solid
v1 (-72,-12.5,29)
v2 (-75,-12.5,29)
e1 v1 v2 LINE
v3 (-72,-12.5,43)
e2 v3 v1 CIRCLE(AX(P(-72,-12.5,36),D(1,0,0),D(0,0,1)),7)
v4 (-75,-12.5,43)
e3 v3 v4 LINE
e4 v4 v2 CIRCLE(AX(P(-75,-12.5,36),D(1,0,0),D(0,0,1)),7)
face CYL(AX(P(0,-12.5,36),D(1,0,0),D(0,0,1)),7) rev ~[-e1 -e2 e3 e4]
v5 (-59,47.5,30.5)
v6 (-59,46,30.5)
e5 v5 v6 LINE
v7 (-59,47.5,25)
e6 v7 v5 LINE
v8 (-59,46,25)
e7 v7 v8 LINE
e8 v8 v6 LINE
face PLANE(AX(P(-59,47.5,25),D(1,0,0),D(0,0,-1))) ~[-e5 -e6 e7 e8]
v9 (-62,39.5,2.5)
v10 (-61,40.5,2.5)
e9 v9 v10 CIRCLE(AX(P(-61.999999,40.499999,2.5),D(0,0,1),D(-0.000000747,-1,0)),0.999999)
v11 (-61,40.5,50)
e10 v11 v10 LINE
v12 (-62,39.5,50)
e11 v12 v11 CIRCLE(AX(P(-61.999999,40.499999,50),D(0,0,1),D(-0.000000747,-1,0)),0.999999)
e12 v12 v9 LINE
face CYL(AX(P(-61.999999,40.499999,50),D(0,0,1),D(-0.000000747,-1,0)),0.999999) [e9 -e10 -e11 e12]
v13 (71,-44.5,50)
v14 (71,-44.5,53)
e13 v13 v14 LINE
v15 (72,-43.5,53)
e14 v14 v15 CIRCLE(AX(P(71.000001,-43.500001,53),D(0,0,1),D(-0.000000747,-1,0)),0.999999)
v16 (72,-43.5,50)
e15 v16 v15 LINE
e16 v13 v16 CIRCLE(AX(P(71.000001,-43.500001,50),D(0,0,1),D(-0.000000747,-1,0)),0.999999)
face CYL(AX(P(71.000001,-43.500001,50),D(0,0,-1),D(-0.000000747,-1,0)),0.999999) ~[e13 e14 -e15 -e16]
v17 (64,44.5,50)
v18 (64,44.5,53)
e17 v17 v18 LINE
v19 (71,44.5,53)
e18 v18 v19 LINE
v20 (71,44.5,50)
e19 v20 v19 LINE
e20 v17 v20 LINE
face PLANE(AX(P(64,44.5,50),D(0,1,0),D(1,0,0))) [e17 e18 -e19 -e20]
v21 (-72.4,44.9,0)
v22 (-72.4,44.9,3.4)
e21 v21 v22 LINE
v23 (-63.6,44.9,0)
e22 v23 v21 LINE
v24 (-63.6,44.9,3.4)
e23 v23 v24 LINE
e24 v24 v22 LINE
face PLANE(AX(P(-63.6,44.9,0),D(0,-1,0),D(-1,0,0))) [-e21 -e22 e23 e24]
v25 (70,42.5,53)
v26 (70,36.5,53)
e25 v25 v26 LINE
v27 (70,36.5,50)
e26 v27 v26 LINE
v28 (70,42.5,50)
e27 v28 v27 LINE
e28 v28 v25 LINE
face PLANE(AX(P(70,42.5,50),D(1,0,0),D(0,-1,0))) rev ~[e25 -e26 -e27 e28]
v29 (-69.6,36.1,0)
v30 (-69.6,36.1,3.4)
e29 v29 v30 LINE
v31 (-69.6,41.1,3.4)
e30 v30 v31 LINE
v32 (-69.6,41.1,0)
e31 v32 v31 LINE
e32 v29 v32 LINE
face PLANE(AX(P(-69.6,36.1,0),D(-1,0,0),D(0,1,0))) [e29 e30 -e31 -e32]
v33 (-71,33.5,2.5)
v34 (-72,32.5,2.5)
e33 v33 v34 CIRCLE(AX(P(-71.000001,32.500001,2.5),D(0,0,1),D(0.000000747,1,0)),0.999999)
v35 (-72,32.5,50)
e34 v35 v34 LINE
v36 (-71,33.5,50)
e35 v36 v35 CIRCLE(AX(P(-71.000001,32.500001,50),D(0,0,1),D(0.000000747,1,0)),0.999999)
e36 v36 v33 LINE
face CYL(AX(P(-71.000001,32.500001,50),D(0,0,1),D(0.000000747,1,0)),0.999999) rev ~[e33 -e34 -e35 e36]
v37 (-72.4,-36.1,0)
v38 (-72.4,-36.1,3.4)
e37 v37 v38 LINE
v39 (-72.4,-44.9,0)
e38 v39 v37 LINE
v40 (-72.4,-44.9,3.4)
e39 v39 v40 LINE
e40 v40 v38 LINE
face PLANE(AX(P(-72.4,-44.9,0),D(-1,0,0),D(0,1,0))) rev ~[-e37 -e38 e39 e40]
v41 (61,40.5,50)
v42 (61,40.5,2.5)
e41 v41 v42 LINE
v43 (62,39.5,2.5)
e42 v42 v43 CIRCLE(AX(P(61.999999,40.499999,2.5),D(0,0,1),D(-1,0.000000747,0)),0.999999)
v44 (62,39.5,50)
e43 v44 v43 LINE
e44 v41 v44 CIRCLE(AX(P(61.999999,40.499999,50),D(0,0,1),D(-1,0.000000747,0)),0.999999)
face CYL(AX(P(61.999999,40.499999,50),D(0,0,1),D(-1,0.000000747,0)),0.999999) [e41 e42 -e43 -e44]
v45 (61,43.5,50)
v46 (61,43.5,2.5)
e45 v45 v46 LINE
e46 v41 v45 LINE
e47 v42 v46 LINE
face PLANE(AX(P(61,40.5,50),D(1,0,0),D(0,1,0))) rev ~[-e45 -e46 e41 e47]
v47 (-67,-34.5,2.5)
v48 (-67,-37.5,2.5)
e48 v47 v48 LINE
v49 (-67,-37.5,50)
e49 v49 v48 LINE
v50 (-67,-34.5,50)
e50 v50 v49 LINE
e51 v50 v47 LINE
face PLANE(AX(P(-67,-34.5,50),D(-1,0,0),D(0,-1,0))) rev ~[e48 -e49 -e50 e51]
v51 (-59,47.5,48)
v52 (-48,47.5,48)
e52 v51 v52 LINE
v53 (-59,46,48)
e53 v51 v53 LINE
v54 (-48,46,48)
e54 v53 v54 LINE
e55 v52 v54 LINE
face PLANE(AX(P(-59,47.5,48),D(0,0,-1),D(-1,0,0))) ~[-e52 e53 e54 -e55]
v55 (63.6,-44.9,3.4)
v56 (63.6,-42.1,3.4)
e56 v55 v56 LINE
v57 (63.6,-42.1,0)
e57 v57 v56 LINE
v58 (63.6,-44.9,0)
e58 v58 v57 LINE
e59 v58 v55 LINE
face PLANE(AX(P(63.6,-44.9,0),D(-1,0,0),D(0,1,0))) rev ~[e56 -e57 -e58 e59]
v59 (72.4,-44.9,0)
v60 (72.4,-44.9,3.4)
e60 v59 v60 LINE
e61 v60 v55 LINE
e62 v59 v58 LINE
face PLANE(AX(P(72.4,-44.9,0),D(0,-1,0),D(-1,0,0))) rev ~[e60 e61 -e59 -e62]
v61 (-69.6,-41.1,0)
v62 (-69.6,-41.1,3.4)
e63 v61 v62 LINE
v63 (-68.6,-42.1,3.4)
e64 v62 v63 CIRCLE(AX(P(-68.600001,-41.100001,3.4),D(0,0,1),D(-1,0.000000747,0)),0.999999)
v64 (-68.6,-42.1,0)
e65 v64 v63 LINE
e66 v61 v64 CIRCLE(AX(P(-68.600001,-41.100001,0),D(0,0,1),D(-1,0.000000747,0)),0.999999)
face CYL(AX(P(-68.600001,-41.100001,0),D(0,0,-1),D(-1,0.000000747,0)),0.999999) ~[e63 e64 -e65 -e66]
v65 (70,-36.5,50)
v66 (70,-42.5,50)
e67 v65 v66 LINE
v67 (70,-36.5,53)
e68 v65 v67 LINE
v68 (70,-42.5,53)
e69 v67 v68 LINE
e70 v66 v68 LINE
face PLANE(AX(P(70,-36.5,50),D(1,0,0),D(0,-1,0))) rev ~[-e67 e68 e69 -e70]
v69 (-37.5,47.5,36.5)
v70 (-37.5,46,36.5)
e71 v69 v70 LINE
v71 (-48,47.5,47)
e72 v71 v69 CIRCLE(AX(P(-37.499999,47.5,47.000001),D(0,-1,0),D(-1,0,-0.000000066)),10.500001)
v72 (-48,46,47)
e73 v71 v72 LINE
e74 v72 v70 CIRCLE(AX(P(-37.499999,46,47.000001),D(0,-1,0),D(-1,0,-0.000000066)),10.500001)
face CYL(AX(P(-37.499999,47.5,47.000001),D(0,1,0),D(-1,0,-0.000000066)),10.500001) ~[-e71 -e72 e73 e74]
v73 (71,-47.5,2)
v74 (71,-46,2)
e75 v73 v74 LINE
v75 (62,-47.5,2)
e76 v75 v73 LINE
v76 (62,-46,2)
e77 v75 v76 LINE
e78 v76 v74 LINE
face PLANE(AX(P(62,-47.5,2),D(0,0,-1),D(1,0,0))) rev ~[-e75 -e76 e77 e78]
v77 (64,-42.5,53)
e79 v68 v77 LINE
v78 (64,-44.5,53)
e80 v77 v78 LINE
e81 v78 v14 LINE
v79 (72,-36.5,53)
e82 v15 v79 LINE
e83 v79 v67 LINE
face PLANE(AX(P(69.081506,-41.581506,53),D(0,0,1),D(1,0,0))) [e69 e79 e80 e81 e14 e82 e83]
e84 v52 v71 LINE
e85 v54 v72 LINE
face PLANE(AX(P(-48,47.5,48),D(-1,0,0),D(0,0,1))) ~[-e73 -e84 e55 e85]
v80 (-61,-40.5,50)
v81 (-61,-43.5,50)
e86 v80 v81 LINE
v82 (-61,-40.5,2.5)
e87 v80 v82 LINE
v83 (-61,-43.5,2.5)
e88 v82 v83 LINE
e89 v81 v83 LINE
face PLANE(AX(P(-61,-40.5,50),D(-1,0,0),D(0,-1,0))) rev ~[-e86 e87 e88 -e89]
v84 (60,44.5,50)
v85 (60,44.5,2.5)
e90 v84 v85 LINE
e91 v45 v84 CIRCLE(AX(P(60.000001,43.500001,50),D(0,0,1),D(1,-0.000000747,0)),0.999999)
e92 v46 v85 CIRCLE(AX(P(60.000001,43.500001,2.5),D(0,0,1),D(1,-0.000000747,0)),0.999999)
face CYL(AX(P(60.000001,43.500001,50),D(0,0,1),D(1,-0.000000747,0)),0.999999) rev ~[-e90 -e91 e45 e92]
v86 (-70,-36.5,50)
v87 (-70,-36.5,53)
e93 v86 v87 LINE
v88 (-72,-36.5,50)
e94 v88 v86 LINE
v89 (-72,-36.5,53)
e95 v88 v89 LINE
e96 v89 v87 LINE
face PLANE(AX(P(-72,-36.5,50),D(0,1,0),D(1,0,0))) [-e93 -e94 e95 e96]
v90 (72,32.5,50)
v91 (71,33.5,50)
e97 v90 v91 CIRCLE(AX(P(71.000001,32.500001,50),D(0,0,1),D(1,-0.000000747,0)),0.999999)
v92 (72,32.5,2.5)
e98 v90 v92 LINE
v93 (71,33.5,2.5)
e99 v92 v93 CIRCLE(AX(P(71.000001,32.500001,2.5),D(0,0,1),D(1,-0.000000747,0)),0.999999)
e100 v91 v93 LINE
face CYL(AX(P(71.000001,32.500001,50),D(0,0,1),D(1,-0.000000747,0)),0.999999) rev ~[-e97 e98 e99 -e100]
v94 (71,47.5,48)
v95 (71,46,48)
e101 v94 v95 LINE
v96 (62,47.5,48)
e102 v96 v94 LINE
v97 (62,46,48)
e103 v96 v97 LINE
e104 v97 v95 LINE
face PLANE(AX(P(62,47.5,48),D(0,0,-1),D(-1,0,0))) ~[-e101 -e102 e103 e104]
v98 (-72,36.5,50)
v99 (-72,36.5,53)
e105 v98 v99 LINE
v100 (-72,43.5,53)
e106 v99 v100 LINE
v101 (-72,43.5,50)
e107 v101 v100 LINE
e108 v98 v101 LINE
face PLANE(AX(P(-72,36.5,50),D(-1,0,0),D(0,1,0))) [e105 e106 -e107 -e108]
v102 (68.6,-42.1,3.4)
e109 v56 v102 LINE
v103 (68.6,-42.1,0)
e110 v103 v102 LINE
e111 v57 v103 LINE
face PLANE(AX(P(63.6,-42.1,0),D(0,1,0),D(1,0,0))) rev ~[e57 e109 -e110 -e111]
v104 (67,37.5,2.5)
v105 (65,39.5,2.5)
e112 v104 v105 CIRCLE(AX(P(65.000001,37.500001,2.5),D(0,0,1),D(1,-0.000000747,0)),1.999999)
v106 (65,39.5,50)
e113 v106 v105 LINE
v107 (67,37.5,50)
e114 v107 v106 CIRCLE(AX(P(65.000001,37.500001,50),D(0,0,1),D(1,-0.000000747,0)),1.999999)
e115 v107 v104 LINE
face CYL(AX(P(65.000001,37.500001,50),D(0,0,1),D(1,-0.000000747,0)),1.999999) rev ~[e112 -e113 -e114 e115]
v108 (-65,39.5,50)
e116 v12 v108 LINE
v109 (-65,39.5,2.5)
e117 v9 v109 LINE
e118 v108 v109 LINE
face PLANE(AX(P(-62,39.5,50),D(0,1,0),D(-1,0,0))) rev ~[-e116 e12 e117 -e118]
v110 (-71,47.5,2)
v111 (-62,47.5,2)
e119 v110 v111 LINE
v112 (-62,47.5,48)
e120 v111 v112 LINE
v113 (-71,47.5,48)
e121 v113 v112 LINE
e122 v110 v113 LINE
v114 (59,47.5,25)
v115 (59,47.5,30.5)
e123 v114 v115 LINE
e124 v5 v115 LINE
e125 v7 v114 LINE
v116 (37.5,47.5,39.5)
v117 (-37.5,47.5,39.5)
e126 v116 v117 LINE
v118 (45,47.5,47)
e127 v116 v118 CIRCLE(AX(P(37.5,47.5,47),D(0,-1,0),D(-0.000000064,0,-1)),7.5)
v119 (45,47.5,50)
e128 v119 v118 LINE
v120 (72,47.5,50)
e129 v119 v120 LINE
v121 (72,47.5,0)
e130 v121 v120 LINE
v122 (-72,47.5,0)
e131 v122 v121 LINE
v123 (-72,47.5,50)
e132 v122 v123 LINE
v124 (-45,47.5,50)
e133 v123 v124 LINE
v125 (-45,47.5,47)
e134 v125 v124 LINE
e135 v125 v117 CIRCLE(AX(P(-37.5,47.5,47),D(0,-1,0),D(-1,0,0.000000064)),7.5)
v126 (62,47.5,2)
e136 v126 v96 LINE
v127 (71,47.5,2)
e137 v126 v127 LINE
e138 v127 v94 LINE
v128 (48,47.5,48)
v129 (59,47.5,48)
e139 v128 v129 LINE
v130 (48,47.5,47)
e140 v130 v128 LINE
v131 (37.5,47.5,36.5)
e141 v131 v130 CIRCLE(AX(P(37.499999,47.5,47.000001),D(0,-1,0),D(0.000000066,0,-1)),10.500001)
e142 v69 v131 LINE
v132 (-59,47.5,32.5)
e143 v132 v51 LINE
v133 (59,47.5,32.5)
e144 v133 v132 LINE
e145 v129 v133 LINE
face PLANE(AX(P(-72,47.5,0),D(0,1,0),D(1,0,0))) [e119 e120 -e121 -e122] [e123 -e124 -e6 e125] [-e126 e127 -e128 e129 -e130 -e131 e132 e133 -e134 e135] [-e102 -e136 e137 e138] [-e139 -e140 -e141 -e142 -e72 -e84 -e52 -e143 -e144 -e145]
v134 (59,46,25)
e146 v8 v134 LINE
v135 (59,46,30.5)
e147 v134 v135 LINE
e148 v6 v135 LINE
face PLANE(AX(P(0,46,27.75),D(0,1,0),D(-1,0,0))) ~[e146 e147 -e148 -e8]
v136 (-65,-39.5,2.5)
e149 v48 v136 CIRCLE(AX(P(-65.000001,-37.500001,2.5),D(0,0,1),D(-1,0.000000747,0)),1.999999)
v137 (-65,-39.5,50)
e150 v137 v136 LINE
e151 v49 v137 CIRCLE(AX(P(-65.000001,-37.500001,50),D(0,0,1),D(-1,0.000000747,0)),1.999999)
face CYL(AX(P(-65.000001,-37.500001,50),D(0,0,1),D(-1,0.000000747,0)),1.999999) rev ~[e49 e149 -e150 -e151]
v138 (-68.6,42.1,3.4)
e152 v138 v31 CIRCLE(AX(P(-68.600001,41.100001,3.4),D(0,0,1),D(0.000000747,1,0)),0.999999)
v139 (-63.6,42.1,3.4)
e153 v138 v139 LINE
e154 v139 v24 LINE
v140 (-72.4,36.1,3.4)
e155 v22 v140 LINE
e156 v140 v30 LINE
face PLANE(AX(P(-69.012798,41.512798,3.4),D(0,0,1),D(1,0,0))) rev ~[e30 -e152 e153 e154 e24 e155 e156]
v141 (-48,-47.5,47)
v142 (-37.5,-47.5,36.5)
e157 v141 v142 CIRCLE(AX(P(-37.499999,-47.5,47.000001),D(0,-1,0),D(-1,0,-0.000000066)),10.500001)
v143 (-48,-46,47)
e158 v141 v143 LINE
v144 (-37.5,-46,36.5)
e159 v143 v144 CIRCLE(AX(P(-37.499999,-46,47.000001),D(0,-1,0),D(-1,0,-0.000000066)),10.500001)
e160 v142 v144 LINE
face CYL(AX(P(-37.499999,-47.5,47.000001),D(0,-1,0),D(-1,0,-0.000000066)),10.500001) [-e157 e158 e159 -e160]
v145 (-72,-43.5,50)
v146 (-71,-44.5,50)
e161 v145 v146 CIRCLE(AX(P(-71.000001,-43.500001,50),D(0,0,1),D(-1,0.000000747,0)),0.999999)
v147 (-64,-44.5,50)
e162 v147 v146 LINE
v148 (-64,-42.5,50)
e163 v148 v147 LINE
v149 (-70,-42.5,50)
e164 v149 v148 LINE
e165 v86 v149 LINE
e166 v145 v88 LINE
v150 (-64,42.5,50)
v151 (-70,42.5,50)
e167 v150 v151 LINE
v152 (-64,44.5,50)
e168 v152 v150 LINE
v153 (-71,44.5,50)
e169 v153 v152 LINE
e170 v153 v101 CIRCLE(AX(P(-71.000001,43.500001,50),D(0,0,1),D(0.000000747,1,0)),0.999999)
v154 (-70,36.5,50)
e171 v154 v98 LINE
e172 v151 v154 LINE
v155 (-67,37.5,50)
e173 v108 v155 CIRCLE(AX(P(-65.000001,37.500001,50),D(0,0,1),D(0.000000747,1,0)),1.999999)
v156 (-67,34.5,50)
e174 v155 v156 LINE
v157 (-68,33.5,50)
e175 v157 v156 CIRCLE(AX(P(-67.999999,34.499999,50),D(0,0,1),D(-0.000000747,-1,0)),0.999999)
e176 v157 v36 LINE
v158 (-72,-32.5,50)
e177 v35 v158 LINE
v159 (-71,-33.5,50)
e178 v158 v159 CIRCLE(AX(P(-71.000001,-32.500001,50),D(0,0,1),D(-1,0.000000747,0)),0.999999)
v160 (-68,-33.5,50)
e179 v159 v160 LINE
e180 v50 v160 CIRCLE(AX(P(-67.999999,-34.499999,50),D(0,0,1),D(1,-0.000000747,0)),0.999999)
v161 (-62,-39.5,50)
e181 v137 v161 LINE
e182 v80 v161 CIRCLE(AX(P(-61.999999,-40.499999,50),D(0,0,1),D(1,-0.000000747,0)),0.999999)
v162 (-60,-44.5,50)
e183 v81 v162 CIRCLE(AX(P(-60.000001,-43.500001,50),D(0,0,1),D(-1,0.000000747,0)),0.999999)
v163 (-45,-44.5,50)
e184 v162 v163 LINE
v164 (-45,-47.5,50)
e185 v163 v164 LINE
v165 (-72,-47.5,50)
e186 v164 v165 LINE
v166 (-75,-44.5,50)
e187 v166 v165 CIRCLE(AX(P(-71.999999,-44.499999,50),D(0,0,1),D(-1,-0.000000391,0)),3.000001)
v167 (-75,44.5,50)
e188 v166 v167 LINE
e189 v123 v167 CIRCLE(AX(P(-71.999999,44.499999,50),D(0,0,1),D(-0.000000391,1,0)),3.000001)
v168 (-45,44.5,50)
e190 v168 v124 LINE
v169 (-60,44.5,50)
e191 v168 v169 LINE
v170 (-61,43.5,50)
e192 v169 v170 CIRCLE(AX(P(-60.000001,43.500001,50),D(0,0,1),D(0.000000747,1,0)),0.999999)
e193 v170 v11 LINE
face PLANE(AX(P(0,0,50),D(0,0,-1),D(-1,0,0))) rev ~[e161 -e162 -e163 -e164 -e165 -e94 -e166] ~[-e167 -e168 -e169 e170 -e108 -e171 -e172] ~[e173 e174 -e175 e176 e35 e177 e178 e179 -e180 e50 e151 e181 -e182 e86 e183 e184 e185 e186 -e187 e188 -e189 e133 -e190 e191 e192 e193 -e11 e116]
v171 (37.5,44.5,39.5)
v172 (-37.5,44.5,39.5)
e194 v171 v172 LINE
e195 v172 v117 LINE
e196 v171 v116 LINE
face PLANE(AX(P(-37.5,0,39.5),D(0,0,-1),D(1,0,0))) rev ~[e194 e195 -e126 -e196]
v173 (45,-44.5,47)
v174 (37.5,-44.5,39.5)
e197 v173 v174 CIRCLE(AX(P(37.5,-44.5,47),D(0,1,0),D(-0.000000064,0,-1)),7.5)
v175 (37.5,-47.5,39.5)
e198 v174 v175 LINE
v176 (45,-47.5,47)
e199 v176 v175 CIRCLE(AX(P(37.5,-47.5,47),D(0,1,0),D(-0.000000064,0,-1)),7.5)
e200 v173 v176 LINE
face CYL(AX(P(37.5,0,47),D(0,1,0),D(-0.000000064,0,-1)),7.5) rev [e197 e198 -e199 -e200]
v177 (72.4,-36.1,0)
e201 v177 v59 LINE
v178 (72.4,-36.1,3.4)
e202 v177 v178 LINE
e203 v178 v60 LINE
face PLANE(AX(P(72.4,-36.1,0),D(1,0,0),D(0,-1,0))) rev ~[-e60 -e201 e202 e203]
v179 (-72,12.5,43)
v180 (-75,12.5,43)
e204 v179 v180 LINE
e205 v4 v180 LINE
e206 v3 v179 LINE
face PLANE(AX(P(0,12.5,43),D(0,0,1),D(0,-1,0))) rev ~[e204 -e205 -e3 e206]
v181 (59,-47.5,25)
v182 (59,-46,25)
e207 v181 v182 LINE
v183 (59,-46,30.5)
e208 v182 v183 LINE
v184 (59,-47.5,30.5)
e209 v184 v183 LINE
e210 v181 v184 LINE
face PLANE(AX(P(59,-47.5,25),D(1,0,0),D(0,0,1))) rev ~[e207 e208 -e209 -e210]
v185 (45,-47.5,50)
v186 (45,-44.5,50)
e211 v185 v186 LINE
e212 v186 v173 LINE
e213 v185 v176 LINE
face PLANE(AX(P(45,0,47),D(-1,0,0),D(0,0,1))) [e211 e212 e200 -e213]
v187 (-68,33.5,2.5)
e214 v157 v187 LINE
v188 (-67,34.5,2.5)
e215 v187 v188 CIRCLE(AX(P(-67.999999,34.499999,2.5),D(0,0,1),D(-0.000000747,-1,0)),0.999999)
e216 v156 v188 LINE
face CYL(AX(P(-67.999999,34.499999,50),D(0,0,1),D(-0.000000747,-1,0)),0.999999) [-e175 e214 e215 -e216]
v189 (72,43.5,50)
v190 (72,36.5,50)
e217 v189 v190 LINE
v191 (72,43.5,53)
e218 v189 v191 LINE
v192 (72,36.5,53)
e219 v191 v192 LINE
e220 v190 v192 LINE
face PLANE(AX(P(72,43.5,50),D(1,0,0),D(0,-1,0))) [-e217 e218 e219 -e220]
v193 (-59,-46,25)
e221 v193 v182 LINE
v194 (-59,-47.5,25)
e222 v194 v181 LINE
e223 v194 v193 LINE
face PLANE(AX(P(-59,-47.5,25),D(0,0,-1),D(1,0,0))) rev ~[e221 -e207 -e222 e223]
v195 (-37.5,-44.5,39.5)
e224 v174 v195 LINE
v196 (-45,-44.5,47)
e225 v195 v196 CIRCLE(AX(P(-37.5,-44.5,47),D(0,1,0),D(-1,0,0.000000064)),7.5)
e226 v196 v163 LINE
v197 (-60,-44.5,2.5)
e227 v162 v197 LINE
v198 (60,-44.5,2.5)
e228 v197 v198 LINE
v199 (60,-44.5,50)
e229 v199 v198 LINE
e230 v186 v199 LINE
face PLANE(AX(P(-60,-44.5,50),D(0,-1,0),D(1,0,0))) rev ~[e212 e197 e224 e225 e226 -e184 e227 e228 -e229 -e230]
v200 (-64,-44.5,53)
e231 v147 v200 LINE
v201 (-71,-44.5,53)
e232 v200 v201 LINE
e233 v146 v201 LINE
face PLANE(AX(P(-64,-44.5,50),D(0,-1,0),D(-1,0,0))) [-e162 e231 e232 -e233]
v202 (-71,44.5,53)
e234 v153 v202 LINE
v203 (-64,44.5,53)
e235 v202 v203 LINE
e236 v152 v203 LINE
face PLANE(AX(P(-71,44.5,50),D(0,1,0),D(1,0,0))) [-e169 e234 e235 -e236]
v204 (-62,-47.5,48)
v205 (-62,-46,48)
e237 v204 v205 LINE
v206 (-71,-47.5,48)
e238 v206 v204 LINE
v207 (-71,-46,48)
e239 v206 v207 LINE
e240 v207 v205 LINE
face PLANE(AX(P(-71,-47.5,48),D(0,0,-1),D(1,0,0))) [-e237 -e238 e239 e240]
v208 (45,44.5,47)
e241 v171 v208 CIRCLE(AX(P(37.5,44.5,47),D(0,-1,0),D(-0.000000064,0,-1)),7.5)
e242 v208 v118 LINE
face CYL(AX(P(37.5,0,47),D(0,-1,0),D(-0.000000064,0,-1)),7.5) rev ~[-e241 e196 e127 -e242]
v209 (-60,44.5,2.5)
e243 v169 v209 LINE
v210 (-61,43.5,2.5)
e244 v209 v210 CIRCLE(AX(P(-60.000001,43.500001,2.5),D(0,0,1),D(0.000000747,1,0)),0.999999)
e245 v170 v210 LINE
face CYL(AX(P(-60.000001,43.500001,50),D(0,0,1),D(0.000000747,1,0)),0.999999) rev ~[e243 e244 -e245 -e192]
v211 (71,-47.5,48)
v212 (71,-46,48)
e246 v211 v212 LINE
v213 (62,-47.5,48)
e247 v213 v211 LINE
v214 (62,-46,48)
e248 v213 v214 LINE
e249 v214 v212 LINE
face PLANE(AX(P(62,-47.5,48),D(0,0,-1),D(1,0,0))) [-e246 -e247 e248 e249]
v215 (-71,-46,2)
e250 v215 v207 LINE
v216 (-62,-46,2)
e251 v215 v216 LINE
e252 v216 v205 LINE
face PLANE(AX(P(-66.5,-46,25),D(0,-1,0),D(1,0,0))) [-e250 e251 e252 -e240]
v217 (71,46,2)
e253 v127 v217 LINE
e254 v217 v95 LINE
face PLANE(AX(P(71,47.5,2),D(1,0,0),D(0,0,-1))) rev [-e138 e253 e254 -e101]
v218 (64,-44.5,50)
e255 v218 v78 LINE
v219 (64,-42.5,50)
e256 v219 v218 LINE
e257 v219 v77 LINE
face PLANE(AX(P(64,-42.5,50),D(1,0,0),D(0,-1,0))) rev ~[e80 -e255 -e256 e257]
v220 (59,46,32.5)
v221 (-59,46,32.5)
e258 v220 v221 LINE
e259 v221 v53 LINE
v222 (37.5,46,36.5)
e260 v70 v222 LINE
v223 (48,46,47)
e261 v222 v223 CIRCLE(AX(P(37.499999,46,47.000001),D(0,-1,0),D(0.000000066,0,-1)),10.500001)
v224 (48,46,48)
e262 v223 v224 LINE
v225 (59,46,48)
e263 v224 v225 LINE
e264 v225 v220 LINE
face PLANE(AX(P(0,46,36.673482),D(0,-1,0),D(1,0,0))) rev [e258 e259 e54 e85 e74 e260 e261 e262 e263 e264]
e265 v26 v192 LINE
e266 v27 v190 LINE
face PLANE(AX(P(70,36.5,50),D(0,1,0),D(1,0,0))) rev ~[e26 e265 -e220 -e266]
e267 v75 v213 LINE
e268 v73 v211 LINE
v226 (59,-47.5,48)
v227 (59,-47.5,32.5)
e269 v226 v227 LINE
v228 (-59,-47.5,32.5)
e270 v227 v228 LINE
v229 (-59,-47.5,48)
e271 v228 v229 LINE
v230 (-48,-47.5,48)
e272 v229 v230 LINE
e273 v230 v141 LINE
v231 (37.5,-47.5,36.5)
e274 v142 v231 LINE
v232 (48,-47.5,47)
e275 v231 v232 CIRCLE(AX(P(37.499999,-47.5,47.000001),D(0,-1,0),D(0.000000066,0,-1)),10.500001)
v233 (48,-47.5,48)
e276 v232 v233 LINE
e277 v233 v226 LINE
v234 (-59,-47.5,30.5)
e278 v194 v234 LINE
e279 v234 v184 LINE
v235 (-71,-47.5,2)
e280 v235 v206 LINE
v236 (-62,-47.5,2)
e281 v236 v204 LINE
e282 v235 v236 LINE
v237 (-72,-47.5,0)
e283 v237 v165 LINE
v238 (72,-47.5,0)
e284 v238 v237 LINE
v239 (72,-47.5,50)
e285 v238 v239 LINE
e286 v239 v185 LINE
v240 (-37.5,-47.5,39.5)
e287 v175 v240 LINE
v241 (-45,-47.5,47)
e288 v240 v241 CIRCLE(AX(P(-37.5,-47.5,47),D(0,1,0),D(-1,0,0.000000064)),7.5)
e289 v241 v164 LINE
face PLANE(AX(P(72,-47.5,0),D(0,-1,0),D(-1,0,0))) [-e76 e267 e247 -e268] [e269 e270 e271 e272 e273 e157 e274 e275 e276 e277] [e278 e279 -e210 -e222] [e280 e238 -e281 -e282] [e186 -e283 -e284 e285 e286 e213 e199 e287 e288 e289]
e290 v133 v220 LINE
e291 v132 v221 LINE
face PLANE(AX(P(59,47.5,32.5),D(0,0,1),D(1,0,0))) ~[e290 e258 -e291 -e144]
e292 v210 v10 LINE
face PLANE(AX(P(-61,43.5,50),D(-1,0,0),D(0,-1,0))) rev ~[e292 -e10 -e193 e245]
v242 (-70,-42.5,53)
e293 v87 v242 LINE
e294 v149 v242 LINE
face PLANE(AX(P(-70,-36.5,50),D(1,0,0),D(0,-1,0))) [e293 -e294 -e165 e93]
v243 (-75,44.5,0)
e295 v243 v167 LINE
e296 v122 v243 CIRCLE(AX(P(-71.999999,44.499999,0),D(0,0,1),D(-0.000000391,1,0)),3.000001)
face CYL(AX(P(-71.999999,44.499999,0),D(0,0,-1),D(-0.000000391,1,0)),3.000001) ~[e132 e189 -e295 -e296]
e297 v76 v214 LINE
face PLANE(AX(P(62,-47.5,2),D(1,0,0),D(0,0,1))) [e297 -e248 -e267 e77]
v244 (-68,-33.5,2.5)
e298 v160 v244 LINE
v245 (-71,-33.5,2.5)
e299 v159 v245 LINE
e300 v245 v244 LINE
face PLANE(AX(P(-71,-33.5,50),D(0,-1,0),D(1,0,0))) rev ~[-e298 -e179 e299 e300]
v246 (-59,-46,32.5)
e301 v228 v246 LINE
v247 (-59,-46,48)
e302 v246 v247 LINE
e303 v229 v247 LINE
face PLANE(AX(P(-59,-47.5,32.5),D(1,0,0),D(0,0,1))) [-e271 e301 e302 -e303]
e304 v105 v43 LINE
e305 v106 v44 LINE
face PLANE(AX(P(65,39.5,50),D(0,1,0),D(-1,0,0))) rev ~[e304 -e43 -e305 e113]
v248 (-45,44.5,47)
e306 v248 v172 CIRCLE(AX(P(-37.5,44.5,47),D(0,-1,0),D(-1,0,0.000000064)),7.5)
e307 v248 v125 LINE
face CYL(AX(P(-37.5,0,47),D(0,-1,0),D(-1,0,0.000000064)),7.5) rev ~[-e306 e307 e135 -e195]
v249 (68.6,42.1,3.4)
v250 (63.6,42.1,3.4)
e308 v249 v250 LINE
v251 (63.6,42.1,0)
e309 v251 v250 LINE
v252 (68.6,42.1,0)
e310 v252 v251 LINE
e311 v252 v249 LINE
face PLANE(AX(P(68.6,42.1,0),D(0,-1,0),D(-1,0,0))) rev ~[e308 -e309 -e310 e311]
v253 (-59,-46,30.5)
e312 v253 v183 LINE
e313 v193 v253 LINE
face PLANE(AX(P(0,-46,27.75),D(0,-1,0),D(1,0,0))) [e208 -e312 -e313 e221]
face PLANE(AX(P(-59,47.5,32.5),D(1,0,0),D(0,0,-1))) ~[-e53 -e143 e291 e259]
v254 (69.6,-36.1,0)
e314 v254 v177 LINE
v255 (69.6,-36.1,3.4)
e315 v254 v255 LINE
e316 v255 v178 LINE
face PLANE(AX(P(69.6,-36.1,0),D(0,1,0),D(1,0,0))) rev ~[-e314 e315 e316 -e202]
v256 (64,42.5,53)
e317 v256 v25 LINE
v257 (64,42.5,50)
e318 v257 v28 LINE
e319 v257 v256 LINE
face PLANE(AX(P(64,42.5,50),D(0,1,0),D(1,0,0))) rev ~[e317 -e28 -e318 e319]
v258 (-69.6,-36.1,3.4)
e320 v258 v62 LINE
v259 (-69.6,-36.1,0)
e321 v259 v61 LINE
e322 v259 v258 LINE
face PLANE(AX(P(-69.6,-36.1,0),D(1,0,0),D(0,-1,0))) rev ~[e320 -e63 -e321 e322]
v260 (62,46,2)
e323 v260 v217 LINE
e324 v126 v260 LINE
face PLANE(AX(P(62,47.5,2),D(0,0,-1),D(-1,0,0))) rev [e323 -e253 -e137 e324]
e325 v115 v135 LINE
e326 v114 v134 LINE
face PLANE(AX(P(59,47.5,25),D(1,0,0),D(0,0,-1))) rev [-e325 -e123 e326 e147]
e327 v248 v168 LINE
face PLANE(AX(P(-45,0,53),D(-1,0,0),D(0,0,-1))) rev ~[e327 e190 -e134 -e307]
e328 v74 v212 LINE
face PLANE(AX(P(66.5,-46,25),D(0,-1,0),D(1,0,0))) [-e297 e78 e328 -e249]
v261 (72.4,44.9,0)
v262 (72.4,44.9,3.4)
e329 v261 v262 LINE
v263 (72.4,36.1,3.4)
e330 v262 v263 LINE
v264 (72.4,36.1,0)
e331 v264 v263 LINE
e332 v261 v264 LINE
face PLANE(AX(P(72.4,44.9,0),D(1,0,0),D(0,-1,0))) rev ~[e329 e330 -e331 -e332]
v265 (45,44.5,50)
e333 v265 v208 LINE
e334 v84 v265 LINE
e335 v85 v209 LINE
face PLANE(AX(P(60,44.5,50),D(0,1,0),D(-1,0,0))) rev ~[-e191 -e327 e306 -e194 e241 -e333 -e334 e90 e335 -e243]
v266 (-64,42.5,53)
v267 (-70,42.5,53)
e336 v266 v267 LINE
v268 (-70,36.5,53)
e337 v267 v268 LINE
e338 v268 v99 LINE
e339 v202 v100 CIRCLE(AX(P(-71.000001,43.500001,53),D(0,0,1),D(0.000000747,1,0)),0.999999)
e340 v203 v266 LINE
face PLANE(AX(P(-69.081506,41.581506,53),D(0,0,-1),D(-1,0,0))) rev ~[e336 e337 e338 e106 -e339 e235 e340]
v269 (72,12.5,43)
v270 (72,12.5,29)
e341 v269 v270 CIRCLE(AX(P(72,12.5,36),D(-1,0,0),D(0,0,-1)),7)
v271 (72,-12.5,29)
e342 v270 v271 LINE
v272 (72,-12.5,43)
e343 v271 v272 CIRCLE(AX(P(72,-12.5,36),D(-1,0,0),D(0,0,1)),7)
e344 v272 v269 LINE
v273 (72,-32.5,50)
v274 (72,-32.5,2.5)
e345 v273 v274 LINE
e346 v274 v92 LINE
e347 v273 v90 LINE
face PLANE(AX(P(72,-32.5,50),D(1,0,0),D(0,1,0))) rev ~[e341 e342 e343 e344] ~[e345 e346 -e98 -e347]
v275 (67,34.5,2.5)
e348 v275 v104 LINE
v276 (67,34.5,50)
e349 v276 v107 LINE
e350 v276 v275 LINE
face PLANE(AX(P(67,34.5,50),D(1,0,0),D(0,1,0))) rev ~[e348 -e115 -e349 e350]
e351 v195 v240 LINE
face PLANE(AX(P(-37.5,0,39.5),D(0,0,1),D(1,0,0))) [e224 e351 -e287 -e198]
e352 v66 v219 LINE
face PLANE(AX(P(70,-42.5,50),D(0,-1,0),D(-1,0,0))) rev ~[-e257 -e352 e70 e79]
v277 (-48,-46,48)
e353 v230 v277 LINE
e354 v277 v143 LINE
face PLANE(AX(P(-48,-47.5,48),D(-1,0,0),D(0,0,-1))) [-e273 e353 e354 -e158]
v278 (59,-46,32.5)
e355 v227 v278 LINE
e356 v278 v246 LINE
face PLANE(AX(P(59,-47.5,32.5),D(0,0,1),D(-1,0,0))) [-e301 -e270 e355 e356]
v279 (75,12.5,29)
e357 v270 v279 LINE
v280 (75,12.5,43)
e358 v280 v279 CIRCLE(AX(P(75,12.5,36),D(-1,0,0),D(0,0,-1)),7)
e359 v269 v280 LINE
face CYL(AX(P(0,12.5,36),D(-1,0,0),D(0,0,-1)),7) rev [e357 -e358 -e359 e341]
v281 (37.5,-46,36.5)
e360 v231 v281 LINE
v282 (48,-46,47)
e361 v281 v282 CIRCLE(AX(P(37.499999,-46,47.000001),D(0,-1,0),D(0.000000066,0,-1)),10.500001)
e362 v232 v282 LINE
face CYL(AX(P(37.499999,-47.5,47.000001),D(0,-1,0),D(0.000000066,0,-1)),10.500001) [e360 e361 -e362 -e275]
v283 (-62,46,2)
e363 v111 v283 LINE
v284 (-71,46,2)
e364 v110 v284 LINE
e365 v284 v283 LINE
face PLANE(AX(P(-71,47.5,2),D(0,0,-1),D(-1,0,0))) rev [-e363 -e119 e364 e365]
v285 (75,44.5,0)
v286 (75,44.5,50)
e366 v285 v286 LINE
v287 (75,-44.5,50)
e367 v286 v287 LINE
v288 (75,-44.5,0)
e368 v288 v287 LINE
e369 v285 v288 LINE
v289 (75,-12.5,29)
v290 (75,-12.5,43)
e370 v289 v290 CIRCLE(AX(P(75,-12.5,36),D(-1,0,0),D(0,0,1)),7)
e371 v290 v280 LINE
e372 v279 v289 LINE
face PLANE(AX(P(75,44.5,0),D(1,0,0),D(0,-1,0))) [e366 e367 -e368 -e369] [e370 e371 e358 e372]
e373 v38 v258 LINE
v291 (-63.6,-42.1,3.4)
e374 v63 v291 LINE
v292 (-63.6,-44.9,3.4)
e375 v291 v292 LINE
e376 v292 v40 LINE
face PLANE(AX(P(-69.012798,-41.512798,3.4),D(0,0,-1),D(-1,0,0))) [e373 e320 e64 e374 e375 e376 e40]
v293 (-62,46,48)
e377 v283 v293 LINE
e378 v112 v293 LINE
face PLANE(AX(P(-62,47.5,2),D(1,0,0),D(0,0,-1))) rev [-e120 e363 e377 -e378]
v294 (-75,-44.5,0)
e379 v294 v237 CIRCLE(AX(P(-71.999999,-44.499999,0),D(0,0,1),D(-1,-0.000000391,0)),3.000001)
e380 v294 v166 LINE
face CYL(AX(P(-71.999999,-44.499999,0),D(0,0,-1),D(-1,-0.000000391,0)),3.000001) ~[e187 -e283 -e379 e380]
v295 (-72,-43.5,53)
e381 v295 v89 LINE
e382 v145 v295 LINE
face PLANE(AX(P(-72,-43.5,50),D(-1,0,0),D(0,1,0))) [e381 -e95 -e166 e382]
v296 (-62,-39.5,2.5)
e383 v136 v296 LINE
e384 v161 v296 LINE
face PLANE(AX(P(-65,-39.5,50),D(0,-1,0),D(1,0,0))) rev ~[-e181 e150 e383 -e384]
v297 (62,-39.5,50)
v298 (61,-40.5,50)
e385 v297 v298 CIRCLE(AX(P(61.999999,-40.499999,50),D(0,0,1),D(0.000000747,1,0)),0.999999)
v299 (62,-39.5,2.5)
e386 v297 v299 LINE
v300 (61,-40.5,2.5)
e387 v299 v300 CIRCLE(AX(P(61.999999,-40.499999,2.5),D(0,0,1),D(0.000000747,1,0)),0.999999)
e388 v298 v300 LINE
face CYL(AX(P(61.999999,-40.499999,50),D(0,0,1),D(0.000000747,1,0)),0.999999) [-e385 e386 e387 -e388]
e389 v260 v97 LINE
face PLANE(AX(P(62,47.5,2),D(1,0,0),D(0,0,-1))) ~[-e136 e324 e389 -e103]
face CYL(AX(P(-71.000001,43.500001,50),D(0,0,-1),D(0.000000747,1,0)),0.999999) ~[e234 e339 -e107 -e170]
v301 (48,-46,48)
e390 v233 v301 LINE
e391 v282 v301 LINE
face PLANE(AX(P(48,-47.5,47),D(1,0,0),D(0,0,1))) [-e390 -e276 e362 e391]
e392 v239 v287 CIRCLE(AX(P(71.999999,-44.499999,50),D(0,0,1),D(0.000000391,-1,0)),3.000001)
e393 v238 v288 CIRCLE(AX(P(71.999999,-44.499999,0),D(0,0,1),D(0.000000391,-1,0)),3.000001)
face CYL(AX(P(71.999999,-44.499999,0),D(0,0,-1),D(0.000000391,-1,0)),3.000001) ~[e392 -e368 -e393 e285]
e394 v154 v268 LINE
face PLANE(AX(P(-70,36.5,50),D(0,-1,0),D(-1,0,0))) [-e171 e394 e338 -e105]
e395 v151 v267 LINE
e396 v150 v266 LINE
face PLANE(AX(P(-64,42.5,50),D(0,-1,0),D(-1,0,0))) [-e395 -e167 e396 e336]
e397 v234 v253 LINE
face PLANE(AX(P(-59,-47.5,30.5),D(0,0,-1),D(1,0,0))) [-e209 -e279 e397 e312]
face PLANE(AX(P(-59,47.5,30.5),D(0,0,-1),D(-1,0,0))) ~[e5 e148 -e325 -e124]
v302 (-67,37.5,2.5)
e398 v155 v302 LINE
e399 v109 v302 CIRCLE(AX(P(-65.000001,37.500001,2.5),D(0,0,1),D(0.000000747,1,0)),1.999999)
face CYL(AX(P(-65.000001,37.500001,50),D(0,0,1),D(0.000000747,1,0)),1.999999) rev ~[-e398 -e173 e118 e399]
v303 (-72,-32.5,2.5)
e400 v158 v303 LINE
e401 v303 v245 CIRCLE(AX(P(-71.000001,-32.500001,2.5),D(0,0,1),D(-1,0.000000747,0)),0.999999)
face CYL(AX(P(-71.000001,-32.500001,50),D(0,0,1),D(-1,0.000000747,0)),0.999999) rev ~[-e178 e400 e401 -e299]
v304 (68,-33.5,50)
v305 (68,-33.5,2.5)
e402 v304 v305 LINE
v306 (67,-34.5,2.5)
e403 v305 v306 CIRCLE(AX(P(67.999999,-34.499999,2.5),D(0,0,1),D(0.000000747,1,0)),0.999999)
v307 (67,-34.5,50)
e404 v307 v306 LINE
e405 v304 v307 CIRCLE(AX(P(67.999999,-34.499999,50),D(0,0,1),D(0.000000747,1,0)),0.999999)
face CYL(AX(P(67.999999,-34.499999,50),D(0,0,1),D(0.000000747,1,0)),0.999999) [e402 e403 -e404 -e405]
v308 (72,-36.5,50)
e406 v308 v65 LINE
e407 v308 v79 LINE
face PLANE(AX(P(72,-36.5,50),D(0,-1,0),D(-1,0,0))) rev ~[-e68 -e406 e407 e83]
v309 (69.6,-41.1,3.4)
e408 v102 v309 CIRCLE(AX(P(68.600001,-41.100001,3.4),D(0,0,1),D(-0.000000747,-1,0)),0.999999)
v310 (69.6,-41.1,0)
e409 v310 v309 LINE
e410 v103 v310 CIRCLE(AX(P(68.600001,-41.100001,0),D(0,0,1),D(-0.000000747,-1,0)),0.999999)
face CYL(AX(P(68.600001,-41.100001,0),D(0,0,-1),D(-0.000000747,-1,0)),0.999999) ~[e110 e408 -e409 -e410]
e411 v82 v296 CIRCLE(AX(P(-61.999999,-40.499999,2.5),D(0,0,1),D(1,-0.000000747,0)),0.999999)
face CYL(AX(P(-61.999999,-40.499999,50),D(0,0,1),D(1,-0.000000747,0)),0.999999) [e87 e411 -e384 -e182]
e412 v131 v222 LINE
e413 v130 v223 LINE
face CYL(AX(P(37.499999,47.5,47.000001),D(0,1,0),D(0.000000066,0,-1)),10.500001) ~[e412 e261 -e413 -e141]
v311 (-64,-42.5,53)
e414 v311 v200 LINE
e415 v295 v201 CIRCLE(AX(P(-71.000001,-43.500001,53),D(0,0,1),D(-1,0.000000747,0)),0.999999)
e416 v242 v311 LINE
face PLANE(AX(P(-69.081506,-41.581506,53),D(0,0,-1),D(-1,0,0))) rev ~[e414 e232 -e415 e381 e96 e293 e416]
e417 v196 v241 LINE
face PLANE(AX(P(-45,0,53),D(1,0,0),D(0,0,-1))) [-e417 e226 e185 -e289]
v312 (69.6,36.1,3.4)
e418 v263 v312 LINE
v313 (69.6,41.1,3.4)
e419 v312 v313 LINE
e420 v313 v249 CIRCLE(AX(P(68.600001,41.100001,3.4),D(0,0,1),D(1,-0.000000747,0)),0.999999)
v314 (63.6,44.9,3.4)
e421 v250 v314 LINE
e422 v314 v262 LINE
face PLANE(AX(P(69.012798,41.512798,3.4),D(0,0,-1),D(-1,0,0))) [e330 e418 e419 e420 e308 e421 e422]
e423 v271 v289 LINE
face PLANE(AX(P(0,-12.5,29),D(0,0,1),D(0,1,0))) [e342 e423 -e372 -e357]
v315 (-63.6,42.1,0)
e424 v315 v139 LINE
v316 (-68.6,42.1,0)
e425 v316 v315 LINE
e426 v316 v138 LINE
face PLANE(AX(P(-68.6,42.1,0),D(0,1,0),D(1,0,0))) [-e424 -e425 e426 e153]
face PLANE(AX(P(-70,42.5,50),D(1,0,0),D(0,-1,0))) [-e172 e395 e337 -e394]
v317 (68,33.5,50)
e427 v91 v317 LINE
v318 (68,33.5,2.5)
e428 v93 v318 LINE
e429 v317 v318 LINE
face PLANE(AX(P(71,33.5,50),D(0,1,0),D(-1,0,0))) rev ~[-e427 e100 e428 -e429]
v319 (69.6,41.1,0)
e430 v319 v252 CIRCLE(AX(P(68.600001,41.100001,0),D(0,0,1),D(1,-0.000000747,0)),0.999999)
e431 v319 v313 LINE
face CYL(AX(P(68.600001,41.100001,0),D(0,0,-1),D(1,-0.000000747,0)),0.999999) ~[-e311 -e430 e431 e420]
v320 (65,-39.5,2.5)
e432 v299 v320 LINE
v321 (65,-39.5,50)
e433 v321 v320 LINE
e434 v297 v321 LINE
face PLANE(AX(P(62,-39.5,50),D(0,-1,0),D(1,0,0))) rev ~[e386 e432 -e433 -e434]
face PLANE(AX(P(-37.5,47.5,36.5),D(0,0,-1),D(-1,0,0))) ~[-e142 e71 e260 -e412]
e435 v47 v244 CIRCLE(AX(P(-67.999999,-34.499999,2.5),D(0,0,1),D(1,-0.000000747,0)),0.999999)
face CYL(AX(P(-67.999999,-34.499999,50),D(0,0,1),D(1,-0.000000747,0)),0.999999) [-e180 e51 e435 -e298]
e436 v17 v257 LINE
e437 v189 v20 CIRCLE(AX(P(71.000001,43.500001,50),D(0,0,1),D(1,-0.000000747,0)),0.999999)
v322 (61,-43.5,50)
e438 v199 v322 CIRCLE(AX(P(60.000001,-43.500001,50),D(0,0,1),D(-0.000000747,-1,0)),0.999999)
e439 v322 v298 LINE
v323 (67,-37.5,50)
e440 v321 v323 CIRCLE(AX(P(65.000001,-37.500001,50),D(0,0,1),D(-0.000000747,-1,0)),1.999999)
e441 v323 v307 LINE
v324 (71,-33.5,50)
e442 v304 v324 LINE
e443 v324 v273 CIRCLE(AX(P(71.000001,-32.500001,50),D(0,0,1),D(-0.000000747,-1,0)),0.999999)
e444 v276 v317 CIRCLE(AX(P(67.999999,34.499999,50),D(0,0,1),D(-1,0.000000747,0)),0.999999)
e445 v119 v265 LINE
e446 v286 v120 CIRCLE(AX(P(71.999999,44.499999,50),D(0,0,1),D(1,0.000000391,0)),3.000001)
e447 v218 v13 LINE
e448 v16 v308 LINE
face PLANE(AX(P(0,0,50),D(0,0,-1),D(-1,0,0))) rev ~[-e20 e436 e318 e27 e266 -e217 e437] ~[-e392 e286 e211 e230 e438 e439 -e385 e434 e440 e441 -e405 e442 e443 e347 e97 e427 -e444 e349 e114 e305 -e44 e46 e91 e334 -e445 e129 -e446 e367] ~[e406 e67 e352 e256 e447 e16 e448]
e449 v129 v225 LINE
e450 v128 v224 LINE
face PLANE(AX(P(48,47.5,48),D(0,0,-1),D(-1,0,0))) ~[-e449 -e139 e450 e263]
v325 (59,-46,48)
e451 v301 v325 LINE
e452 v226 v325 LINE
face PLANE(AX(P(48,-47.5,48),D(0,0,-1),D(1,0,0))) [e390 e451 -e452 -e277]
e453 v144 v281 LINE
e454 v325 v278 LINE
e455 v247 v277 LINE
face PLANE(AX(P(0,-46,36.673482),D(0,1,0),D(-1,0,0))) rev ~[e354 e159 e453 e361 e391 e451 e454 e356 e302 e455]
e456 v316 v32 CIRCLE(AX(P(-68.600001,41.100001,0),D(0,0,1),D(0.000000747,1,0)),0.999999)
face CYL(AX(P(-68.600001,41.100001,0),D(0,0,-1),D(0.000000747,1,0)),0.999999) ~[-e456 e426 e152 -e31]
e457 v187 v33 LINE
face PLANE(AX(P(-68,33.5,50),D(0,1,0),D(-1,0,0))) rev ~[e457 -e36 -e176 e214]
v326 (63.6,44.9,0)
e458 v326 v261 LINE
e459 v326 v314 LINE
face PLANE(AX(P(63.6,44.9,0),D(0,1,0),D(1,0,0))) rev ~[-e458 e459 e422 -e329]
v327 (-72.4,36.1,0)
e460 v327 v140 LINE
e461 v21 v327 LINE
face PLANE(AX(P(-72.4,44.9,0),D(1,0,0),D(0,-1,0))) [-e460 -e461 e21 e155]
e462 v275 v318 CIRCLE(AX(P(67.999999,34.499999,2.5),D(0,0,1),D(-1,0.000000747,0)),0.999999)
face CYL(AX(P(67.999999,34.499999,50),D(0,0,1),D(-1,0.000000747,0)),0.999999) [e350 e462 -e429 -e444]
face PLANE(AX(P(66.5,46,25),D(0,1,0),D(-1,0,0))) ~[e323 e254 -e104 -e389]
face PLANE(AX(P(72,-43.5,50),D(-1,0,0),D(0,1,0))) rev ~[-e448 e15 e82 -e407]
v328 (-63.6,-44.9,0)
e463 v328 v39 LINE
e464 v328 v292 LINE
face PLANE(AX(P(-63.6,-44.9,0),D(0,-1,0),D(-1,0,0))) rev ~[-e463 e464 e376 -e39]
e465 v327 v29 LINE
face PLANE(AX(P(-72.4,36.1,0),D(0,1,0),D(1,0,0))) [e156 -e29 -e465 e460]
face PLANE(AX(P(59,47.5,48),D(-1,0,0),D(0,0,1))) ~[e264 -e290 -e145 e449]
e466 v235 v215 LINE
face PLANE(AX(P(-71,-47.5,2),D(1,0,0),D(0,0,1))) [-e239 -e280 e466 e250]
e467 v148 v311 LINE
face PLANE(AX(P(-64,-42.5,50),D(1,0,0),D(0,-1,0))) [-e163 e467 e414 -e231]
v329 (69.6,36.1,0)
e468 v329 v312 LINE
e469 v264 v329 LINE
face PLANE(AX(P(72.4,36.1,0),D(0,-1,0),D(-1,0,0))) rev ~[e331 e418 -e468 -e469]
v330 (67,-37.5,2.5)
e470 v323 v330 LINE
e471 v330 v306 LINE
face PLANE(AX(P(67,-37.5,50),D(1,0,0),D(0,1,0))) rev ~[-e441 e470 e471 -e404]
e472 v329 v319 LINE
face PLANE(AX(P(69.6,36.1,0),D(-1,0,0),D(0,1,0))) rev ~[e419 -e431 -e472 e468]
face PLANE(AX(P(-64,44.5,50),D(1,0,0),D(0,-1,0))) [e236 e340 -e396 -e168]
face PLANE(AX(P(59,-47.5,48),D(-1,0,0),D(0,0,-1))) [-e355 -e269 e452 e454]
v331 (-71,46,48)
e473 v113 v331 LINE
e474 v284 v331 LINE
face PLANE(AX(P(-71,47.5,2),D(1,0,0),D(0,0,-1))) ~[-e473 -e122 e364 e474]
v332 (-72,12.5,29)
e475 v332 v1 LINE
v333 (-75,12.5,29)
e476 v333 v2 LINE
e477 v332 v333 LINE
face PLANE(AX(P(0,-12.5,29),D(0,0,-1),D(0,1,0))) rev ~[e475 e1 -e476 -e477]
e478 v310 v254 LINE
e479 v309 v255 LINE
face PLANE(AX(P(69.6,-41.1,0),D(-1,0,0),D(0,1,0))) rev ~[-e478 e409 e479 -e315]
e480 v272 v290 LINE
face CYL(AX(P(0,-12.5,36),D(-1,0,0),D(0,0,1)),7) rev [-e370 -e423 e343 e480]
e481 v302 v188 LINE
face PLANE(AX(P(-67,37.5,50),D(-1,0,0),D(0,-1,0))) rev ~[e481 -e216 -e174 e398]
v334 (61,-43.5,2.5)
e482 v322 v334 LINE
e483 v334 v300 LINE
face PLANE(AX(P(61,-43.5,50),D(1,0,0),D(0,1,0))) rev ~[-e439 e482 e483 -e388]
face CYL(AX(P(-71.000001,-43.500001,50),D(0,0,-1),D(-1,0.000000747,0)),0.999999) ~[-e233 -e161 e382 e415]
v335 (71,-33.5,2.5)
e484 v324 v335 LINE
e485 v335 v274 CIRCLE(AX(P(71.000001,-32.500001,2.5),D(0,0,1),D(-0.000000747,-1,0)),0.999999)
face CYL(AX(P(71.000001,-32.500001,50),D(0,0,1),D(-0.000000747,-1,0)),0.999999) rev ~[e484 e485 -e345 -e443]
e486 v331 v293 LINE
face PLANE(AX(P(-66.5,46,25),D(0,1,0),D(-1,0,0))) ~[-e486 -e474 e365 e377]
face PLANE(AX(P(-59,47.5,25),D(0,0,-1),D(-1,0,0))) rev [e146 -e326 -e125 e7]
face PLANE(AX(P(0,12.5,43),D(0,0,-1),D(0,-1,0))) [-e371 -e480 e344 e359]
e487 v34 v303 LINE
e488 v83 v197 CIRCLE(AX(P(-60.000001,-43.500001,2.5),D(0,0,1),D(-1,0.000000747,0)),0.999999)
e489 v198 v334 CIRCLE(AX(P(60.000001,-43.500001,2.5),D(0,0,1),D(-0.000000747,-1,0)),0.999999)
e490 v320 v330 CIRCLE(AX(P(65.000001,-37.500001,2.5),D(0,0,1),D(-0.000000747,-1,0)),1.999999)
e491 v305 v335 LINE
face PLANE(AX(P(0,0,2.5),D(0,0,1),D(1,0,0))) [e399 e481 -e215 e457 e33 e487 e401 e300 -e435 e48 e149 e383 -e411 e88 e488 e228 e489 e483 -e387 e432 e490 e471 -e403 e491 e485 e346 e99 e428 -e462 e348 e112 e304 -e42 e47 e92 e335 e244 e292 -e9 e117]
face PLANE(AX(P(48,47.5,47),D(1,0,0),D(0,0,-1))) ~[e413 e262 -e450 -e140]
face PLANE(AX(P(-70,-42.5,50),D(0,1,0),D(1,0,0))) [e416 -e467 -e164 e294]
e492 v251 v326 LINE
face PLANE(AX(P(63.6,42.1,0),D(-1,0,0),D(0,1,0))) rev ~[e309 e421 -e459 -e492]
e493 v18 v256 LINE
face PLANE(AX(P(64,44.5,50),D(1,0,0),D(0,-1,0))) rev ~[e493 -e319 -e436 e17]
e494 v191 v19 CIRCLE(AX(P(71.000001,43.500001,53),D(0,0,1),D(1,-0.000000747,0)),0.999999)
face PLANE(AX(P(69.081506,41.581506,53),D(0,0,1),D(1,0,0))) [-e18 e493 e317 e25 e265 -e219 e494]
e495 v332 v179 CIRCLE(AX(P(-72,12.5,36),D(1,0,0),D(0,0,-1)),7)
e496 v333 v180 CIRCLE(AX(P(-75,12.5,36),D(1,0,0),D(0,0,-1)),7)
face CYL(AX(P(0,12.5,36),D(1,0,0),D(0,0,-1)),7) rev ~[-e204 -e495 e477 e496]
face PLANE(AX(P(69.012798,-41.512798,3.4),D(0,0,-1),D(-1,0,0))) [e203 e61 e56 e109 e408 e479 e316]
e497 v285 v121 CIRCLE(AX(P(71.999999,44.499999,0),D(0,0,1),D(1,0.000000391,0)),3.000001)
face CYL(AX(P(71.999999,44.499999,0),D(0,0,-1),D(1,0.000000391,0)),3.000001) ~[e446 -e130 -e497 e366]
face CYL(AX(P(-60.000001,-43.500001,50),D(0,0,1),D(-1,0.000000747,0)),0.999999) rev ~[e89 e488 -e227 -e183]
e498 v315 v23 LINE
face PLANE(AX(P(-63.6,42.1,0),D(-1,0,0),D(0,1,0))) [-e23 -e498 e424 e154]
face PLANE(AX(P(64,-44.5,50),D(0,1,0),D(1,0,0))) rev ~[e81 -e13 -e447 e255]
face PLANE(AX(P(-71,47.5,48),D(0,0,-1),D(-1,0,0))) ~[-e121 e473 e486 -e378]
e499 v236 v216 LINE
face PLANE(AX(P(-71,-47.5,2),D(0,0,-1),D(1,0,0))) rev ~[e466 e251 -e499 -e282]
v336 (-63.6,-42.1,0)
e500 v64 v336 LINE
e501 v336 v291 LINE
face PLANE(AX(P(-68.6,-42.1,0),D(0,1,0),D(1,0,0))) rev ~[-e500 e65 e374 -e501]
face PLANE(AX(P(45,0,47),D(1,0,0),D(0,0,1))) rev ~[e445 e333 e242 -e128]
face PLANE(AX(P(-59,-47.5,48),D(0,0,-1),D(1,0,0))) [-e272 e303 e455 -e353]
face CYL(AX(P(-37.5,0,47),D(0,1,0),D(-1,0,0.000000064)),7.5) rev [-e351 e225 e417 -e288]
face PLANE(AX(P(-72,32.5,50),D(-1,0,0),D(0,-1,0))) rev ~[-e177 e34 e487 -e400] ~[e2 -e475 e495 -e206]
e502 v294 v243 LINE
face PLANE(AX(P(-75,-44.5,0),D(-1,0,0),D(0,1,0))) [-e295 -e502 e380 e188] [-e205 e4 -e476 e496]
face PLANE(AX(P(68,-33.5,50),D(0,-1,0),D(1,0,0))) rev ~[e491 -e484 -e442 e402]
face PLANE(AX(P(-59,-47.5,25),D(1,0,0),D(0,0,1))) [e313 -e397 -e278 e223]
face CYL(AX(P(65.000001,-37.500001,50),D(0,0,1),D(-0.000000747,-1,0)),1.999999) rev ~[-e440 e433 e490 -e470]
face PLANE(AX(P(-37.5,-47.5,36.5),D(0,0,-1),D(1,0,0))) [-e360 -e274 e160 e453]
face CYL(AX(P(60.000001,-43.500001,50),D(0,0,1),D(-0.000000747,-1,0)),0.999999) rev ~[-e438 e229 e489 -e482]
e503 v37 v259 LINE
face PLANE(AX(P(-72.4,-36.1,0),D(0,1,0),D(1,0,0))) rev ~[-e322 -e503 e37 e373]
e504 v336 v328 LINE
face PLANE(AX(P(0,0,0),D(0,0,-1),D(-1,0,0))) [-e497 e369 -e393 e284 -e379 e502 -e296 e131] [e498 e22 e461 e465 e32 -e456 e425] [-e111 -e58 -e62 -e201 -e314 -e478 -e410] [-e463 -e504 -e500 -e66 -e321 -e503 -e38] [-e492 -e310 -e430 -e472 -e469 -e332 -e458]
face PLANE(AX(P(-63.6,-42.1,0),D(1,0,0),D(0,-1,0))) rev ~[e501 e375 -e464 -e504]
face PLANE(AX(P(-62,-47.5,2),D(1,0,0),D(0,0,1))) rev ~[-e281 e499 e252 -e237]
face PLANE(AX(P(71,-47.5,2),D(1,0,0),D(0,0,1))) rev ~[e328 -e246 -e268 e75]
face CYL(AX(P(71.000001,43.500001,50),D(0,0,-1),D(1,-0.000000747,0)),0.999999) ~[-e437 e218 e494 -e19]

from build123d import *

# Parameters (mm, degrees)
PAD_DEPTH            = 50
POCKET_DEPTH         = 47.5
PAD001_DEPTH         = 3
POCKET001_DEPTH      = 3.4
POCKET002_DEPTH      = 47.501
POCKET002_DEPTH_BACK = -47.501
POCKET003_DEPTH      = 75.001
POCKET003_DEPTH_BACK = -75.001
SKETCH009_W          = 9
SKETCH009_H          = 46
SKETCH009_W_2        = 118
SKETCH009_H_2        = 5.5
POCKET004_DEPTH      = 1.5


with BuildPart() as part:
    # Sketch003 → Pad (new body)
    with BuildSketch(Plane.XY):
        with BuildLine():
            Line((-72, 47.5), (72, 47.5))
            ThreePointArc((75, 44.5), (74.12132, 46.62132), (72, 47.5))
            Line((75, 44.5), (75, -44.5))
            ThreePointArc((72, -47.5), (74.12132, -46.62132), (75, -44.5))
            Line((72, -47.5), (-72, -47.5))
            ThreePointArc((-75, -44.5), (-74.12132, -46.62132), (-72, -47.5))
            Line((-75, -44.5), (-75, 44.5))
            ThreePointArc((-72, 47.5), (-74.12132, 46.62132), (-75, 44.5))
        make_face()
    extrude(amount=PAD_DEPTH)

    # Sketch004 → Pocket (cut)
    with BuildSketch(Plane.XY.offset(50)):
        with BuildLine():
            Line((-72, 32.5), (-72, -32.5))
            ThreePointArc((-72, -32.5), (-71.707107, -33.207107), (-71, -33.5))
            Line((-71, -33.5), (-68, -33.5))
            ThreePointArc((-67, -34.5), (-67.292893, -33.792893), (-68, -33.5))
            Line((-67, -34.5), (-67, -37.5))
            ThreePointArc((-67, -37.5), (-66.414214, -38.914214), (-65, -39.5))
            Line((-65, -39.5), (-62, -39.5))
            ThreePointArc((-61, -40.5), (-61.292893, -39.792893), (-62, -39.5))
            Line((-61, -40.5), (-61, -43.5))
            ThreePointArc((-61, -43.5), (-60.707107, -44.207107), (-60, -44.5))
            Line((-60, -44.5), (60, -44.5))
            ThreePointArc((60, -44.5), (60.707107, -44.207107), (61, -43.5))
            Line((61, -43.5), (61, -40.5))
            ThreePointArc((62, -39.5), (61.292893, -39.792893), (61, -40.5))
            Line((62, -39.5), (65, -39.5))
            ThreePointArc((65, -39.5), (66.414214, -38.914214), (67, -37.5))
            Line((67, -37.5), (67, -34.5))
            ThreePointArc((68, -33.5), (67.292893, -33.792893), (67, -34.5))
            Line((68, -33.5), (71, -33.5))
            ThreePointArc((71, -33.5), (71.707107, -33.207107), (72, -32.5))
            Line((72, -32.5), (72, 32.5))
            ThreePointArc((72, 32.5), (71.707107, 33.207107), (71, 33.5))
            Line((71, 33.5), (68, 33.5))
            ThreePointArc((67, 34.5), (67.292893, 33.792893), (68, 33.5))
            Line((67, 34.5), (67, 37.5))
            ThreePointArc((67, 37.5), (66.414214, 38.914214), (65, 39.5))
            Line((65, 39.5), (62, 39.5))
            ThreePointArc((61, 40.5), (61.292893, 39.792893), (62, 39.5))
            Line((61, 40.5), (61, 43.5))
            ThreePointArc((61, 43.5), (60.707107, 44.207107), (60, 44.5))
            Line((60, 44.5), (-60, 44.5))
            ThreePointArc((-60, 44.5), (-60.707107, 44.207107), (-61, 43.5))
            Line((-61, 43.5), (-61, 40.5))
            ThreePointArc((-62, 39.5), (-61.292893, 39.792893), (-61, 40.5))
            Line((-62, 39.5), (-65, 39.5))
            ThreePointArc((-65, 39.5), (-66.414214, 38.914214), (-67, 37.5))
            Line((-67, 37.5), (-67, 34.5))
            ThreePointArc((-68, 33.5), (-67.292893, 33.792893), (-67, 34.5))
            Line((-68, 33.5), (-71, 33.5))
            ThreePointArc((-71, 33.5), (-71.707107, 33.207107), (-72, 32.5))
        make_face()
    extrude(amount=-POCKET_DEPTH, mode=Mode.SUBTRACT)

    # Sketch005 → Pad001 (join)
    with BuildSketch(Plane.XY.offset(50)):
        with BuildLine():
            Line((-70, 42.5), (-70, 36.5))
            Line((-70, 36.5), (-72, 36.5))
            Line((-72, 36.5), (-72, 43.5))
            ThreePointArc((-71, 44.5), (-71.707107, 44.207107), (-72, 43.5))
            Line((-71, 44.5), (-64, 44.5))
            Line((-64, 44.5), (-64, 42.5))
            Line((-64, 42.5), (-70, 42.5))
        make_face()
        with BuildLine():
            Line((64, 42.5), (70, 42.5))
            Line((70, 42.5), (70, 36.5))
            Line((70, 36.5), (72, 36.5))
            Line((72, 43.5), (72, 36.5))
            ThreePointArc((72, 43.5), (71.707107, 44.207107), (71, 44.5))
            Line((64, 44.5), (71, 44.5))
            Line((64, 44.5), (64, 42.5))
        make_face()
        with BuildLine():
            Line((72, -36.5), (70, -36.5))
            Line((70, -36.5), (70, -42.5))
            Line((70, -42.5), (64, -42.5))
            Line((64, -42.5), (64, -44.5))
            Line((64, -44.5), (71, -44.5))
            ThreePointArc((71, -44.5), (71.707107, -44.207107), (72, -43.5))
            Line((72, -43.5), (72, -36.5))
        make_face()
        with BuildLine():
            Line((-70, -36.5), (-70, -42.5))
            Line((-70, -42.5), (-64, -42.5))
            Line((-64, -42.5), (-64, -44.5))
            Line((-64, -44.5), (-71, -44.5))
            ThreePointArc((-72, -43.5), (-71.707107, -44.207107), (-71, -44.5))
            Line((-72, -43.5), (-72, -36.5))
            Line((-72, -36.5), (-70, -36.5))
        make_face()
    extrude(amount=PAD001_DEPTH)

    # Sketch006 → Pocket001 (cut)
    with BuildSketch(Plane.XY):
        with BuildLine():
            Line((-72.4, 44.9), (-72.4, 36.1))
            Line((-72.4, 36.1), (-69.6, 36.1))
            Line((-69.6, 36.1), (-69.6, 41.1))
            ThreePointArc((-68.6, 42.1), (-69.307107, 41.807107), (-69.6, 41.1))
            Line((-68.6, 42.1), (-63.6, 42.1))
            Line((-63.6, 42.1), (-63.6, 44.9))
            Line((-63.6, 44.9), (-72.4, 44.9))
        make_face()
        with BuildLine():
            Line((63.6, 44.9), (72.4, 44.9))
            Line((72.4, 44.9), (72.4, 36.1))
            Line((72.4, 36.1), (69.6, 36.1))
            Line((69.6, 36.1), (69.6, 41.1))
            ThreePointArc((69.6, 41.1), (69.307107, 41.807107), (68.6, 42.1))
            Line((68.6, 42.1), (63.6, 42.1))
            Line((63.6, 42.1), (63.6, 44.9))
        make_face()
        with BuildLine():
            Line((69.6, -36.1), (72.4, -36.1))
            Line((72.4, -36.1), (72.4, -44.9))
            Line((72.4, -44.9), (63.6, -44.9))
            Line((63.6, -44.9), (63.6, -42.1))
            Line((63.6, -42.1), (68.6, -42.1))
            ThreePointArc((68.6, -42.1), (69.307107, -41.807107), (69.6, -41.1))
            Line((69.6, -41.1), (69.6, -36.1))
        make_face()
        with BuildLine():
            Line((-63.6, -42.1), (-63.6, -44.9))
            Line((-63.6, -44.9), (-72.4, -44.9))
            Line((-72.4, -44.9), (-72.4, -36.1))
            Line((-72.4, -36.1), (-69.6, -36.1))
            Line((-69.6, -36.1), (-69.6, -41.1))
            ThreePointArc((-69.6, -41.1), (-69.307107, -41.807107), (-68.6, -42.1))
            Line((-68.6, -42.1), (-63.6, -42.1))
        make_face()
    extrude(amount=POCKET001_DEPTH, mode=Mode.SUBTRACT)

    # Sketch007 → Pocket002 (cut, two sides)
    with BuildSketch(Plane.XZ) as pocket002_sk:
        with BuildLine():
            Line((-45, 53), (-45, 47))
            ThreePointArc((-45, 47), (-42.803301, 41.696699), (-37.5, 39.5))
            Line((-37.5, 39.5), (37.5, 39.5))
            ThreePointArc((37.5, 39.5), (42.803301, 41.696699), (45, 47))
            Line((45, 47), (45, 50))
            Line((45, 53), (45, 50))
            Line((-45, 53), (45, 53))
        make_face()
    extrude(amount=-POCKET002_DEPTH, mode=Mode.SUBTRACT)
    extrude(pocket002_sk.sketch, amount=-POCKET002_DEPTH_BACK, mode=Mode.SUBTRACT)

    # Sketch008 → Pocket003 (cut, two sides)
    with BuildSketch(Plane.YZ) as pocket003_sk:
        with BuildLine():
            ThreePointArc((-12.5, 43), (-19.5, 36), (-12.5, 29))
            Line((-12.5, 29), (12.5, 29))
            ThreePointArc((12.5, 29), (19.5, 36), (12.5, 43))
            Line((12.5, 43), (-12.5, 43))
        make_face()
    extrude(amount=-POCKET003_DEPTH, mode=Mode.SUBTRACT)
    extrude(pocket003_sk.sketch, amount=-POCKET003_DEPTH_BACK, mode=Mode.SUBTRACT)

    # Sketch009 → Pocket004 (cut)
    with BuildSketch(Plane.XZ.offset(47.5)):
        with Locations((-66.5, 25)):
            Rectangle(SKETCH009_W, SKETCH009_H)
        with Locations((66.5, 25)):
            Rectangle(SKETCH009_W, SKETCH009_H)
        with BuildLine():
            ThreePointArc((-48, 47), (-44.924621, 39.575379), (-37.5, 36.5))
            Line((-37.5, 36.5), (37.5, 36.5))
            ThreePointArc((37.5, 36.5), (44.924621, 39.575379), (48, 47))
            Line((48, 47), (48, 48))
            Line((48, 48), (59, 48))
            Line((59, 48), (59, 32.5))
            Line((59, 32.5), (-59, 32.5))
            Line((-59, 32.5), (-59, 48))
            Line((-59, 48), (-48, 48))
            Line((-48, 48), (-48, 47))
        make_face()
        with Locations((0, 27.75)):
            Rectangle(SKETCH009_W_2, SKETCH009_H_2)
    pocket004 = extrude(amount=-POCKET004_DEPTH, mode=Mode.SUBTRACT)

    # Mirrored: Pocket004 across XZ
    add(pocket004.mirror(Plane.XZ), mode=Mode.SUBTRACT)


solid = part.part
